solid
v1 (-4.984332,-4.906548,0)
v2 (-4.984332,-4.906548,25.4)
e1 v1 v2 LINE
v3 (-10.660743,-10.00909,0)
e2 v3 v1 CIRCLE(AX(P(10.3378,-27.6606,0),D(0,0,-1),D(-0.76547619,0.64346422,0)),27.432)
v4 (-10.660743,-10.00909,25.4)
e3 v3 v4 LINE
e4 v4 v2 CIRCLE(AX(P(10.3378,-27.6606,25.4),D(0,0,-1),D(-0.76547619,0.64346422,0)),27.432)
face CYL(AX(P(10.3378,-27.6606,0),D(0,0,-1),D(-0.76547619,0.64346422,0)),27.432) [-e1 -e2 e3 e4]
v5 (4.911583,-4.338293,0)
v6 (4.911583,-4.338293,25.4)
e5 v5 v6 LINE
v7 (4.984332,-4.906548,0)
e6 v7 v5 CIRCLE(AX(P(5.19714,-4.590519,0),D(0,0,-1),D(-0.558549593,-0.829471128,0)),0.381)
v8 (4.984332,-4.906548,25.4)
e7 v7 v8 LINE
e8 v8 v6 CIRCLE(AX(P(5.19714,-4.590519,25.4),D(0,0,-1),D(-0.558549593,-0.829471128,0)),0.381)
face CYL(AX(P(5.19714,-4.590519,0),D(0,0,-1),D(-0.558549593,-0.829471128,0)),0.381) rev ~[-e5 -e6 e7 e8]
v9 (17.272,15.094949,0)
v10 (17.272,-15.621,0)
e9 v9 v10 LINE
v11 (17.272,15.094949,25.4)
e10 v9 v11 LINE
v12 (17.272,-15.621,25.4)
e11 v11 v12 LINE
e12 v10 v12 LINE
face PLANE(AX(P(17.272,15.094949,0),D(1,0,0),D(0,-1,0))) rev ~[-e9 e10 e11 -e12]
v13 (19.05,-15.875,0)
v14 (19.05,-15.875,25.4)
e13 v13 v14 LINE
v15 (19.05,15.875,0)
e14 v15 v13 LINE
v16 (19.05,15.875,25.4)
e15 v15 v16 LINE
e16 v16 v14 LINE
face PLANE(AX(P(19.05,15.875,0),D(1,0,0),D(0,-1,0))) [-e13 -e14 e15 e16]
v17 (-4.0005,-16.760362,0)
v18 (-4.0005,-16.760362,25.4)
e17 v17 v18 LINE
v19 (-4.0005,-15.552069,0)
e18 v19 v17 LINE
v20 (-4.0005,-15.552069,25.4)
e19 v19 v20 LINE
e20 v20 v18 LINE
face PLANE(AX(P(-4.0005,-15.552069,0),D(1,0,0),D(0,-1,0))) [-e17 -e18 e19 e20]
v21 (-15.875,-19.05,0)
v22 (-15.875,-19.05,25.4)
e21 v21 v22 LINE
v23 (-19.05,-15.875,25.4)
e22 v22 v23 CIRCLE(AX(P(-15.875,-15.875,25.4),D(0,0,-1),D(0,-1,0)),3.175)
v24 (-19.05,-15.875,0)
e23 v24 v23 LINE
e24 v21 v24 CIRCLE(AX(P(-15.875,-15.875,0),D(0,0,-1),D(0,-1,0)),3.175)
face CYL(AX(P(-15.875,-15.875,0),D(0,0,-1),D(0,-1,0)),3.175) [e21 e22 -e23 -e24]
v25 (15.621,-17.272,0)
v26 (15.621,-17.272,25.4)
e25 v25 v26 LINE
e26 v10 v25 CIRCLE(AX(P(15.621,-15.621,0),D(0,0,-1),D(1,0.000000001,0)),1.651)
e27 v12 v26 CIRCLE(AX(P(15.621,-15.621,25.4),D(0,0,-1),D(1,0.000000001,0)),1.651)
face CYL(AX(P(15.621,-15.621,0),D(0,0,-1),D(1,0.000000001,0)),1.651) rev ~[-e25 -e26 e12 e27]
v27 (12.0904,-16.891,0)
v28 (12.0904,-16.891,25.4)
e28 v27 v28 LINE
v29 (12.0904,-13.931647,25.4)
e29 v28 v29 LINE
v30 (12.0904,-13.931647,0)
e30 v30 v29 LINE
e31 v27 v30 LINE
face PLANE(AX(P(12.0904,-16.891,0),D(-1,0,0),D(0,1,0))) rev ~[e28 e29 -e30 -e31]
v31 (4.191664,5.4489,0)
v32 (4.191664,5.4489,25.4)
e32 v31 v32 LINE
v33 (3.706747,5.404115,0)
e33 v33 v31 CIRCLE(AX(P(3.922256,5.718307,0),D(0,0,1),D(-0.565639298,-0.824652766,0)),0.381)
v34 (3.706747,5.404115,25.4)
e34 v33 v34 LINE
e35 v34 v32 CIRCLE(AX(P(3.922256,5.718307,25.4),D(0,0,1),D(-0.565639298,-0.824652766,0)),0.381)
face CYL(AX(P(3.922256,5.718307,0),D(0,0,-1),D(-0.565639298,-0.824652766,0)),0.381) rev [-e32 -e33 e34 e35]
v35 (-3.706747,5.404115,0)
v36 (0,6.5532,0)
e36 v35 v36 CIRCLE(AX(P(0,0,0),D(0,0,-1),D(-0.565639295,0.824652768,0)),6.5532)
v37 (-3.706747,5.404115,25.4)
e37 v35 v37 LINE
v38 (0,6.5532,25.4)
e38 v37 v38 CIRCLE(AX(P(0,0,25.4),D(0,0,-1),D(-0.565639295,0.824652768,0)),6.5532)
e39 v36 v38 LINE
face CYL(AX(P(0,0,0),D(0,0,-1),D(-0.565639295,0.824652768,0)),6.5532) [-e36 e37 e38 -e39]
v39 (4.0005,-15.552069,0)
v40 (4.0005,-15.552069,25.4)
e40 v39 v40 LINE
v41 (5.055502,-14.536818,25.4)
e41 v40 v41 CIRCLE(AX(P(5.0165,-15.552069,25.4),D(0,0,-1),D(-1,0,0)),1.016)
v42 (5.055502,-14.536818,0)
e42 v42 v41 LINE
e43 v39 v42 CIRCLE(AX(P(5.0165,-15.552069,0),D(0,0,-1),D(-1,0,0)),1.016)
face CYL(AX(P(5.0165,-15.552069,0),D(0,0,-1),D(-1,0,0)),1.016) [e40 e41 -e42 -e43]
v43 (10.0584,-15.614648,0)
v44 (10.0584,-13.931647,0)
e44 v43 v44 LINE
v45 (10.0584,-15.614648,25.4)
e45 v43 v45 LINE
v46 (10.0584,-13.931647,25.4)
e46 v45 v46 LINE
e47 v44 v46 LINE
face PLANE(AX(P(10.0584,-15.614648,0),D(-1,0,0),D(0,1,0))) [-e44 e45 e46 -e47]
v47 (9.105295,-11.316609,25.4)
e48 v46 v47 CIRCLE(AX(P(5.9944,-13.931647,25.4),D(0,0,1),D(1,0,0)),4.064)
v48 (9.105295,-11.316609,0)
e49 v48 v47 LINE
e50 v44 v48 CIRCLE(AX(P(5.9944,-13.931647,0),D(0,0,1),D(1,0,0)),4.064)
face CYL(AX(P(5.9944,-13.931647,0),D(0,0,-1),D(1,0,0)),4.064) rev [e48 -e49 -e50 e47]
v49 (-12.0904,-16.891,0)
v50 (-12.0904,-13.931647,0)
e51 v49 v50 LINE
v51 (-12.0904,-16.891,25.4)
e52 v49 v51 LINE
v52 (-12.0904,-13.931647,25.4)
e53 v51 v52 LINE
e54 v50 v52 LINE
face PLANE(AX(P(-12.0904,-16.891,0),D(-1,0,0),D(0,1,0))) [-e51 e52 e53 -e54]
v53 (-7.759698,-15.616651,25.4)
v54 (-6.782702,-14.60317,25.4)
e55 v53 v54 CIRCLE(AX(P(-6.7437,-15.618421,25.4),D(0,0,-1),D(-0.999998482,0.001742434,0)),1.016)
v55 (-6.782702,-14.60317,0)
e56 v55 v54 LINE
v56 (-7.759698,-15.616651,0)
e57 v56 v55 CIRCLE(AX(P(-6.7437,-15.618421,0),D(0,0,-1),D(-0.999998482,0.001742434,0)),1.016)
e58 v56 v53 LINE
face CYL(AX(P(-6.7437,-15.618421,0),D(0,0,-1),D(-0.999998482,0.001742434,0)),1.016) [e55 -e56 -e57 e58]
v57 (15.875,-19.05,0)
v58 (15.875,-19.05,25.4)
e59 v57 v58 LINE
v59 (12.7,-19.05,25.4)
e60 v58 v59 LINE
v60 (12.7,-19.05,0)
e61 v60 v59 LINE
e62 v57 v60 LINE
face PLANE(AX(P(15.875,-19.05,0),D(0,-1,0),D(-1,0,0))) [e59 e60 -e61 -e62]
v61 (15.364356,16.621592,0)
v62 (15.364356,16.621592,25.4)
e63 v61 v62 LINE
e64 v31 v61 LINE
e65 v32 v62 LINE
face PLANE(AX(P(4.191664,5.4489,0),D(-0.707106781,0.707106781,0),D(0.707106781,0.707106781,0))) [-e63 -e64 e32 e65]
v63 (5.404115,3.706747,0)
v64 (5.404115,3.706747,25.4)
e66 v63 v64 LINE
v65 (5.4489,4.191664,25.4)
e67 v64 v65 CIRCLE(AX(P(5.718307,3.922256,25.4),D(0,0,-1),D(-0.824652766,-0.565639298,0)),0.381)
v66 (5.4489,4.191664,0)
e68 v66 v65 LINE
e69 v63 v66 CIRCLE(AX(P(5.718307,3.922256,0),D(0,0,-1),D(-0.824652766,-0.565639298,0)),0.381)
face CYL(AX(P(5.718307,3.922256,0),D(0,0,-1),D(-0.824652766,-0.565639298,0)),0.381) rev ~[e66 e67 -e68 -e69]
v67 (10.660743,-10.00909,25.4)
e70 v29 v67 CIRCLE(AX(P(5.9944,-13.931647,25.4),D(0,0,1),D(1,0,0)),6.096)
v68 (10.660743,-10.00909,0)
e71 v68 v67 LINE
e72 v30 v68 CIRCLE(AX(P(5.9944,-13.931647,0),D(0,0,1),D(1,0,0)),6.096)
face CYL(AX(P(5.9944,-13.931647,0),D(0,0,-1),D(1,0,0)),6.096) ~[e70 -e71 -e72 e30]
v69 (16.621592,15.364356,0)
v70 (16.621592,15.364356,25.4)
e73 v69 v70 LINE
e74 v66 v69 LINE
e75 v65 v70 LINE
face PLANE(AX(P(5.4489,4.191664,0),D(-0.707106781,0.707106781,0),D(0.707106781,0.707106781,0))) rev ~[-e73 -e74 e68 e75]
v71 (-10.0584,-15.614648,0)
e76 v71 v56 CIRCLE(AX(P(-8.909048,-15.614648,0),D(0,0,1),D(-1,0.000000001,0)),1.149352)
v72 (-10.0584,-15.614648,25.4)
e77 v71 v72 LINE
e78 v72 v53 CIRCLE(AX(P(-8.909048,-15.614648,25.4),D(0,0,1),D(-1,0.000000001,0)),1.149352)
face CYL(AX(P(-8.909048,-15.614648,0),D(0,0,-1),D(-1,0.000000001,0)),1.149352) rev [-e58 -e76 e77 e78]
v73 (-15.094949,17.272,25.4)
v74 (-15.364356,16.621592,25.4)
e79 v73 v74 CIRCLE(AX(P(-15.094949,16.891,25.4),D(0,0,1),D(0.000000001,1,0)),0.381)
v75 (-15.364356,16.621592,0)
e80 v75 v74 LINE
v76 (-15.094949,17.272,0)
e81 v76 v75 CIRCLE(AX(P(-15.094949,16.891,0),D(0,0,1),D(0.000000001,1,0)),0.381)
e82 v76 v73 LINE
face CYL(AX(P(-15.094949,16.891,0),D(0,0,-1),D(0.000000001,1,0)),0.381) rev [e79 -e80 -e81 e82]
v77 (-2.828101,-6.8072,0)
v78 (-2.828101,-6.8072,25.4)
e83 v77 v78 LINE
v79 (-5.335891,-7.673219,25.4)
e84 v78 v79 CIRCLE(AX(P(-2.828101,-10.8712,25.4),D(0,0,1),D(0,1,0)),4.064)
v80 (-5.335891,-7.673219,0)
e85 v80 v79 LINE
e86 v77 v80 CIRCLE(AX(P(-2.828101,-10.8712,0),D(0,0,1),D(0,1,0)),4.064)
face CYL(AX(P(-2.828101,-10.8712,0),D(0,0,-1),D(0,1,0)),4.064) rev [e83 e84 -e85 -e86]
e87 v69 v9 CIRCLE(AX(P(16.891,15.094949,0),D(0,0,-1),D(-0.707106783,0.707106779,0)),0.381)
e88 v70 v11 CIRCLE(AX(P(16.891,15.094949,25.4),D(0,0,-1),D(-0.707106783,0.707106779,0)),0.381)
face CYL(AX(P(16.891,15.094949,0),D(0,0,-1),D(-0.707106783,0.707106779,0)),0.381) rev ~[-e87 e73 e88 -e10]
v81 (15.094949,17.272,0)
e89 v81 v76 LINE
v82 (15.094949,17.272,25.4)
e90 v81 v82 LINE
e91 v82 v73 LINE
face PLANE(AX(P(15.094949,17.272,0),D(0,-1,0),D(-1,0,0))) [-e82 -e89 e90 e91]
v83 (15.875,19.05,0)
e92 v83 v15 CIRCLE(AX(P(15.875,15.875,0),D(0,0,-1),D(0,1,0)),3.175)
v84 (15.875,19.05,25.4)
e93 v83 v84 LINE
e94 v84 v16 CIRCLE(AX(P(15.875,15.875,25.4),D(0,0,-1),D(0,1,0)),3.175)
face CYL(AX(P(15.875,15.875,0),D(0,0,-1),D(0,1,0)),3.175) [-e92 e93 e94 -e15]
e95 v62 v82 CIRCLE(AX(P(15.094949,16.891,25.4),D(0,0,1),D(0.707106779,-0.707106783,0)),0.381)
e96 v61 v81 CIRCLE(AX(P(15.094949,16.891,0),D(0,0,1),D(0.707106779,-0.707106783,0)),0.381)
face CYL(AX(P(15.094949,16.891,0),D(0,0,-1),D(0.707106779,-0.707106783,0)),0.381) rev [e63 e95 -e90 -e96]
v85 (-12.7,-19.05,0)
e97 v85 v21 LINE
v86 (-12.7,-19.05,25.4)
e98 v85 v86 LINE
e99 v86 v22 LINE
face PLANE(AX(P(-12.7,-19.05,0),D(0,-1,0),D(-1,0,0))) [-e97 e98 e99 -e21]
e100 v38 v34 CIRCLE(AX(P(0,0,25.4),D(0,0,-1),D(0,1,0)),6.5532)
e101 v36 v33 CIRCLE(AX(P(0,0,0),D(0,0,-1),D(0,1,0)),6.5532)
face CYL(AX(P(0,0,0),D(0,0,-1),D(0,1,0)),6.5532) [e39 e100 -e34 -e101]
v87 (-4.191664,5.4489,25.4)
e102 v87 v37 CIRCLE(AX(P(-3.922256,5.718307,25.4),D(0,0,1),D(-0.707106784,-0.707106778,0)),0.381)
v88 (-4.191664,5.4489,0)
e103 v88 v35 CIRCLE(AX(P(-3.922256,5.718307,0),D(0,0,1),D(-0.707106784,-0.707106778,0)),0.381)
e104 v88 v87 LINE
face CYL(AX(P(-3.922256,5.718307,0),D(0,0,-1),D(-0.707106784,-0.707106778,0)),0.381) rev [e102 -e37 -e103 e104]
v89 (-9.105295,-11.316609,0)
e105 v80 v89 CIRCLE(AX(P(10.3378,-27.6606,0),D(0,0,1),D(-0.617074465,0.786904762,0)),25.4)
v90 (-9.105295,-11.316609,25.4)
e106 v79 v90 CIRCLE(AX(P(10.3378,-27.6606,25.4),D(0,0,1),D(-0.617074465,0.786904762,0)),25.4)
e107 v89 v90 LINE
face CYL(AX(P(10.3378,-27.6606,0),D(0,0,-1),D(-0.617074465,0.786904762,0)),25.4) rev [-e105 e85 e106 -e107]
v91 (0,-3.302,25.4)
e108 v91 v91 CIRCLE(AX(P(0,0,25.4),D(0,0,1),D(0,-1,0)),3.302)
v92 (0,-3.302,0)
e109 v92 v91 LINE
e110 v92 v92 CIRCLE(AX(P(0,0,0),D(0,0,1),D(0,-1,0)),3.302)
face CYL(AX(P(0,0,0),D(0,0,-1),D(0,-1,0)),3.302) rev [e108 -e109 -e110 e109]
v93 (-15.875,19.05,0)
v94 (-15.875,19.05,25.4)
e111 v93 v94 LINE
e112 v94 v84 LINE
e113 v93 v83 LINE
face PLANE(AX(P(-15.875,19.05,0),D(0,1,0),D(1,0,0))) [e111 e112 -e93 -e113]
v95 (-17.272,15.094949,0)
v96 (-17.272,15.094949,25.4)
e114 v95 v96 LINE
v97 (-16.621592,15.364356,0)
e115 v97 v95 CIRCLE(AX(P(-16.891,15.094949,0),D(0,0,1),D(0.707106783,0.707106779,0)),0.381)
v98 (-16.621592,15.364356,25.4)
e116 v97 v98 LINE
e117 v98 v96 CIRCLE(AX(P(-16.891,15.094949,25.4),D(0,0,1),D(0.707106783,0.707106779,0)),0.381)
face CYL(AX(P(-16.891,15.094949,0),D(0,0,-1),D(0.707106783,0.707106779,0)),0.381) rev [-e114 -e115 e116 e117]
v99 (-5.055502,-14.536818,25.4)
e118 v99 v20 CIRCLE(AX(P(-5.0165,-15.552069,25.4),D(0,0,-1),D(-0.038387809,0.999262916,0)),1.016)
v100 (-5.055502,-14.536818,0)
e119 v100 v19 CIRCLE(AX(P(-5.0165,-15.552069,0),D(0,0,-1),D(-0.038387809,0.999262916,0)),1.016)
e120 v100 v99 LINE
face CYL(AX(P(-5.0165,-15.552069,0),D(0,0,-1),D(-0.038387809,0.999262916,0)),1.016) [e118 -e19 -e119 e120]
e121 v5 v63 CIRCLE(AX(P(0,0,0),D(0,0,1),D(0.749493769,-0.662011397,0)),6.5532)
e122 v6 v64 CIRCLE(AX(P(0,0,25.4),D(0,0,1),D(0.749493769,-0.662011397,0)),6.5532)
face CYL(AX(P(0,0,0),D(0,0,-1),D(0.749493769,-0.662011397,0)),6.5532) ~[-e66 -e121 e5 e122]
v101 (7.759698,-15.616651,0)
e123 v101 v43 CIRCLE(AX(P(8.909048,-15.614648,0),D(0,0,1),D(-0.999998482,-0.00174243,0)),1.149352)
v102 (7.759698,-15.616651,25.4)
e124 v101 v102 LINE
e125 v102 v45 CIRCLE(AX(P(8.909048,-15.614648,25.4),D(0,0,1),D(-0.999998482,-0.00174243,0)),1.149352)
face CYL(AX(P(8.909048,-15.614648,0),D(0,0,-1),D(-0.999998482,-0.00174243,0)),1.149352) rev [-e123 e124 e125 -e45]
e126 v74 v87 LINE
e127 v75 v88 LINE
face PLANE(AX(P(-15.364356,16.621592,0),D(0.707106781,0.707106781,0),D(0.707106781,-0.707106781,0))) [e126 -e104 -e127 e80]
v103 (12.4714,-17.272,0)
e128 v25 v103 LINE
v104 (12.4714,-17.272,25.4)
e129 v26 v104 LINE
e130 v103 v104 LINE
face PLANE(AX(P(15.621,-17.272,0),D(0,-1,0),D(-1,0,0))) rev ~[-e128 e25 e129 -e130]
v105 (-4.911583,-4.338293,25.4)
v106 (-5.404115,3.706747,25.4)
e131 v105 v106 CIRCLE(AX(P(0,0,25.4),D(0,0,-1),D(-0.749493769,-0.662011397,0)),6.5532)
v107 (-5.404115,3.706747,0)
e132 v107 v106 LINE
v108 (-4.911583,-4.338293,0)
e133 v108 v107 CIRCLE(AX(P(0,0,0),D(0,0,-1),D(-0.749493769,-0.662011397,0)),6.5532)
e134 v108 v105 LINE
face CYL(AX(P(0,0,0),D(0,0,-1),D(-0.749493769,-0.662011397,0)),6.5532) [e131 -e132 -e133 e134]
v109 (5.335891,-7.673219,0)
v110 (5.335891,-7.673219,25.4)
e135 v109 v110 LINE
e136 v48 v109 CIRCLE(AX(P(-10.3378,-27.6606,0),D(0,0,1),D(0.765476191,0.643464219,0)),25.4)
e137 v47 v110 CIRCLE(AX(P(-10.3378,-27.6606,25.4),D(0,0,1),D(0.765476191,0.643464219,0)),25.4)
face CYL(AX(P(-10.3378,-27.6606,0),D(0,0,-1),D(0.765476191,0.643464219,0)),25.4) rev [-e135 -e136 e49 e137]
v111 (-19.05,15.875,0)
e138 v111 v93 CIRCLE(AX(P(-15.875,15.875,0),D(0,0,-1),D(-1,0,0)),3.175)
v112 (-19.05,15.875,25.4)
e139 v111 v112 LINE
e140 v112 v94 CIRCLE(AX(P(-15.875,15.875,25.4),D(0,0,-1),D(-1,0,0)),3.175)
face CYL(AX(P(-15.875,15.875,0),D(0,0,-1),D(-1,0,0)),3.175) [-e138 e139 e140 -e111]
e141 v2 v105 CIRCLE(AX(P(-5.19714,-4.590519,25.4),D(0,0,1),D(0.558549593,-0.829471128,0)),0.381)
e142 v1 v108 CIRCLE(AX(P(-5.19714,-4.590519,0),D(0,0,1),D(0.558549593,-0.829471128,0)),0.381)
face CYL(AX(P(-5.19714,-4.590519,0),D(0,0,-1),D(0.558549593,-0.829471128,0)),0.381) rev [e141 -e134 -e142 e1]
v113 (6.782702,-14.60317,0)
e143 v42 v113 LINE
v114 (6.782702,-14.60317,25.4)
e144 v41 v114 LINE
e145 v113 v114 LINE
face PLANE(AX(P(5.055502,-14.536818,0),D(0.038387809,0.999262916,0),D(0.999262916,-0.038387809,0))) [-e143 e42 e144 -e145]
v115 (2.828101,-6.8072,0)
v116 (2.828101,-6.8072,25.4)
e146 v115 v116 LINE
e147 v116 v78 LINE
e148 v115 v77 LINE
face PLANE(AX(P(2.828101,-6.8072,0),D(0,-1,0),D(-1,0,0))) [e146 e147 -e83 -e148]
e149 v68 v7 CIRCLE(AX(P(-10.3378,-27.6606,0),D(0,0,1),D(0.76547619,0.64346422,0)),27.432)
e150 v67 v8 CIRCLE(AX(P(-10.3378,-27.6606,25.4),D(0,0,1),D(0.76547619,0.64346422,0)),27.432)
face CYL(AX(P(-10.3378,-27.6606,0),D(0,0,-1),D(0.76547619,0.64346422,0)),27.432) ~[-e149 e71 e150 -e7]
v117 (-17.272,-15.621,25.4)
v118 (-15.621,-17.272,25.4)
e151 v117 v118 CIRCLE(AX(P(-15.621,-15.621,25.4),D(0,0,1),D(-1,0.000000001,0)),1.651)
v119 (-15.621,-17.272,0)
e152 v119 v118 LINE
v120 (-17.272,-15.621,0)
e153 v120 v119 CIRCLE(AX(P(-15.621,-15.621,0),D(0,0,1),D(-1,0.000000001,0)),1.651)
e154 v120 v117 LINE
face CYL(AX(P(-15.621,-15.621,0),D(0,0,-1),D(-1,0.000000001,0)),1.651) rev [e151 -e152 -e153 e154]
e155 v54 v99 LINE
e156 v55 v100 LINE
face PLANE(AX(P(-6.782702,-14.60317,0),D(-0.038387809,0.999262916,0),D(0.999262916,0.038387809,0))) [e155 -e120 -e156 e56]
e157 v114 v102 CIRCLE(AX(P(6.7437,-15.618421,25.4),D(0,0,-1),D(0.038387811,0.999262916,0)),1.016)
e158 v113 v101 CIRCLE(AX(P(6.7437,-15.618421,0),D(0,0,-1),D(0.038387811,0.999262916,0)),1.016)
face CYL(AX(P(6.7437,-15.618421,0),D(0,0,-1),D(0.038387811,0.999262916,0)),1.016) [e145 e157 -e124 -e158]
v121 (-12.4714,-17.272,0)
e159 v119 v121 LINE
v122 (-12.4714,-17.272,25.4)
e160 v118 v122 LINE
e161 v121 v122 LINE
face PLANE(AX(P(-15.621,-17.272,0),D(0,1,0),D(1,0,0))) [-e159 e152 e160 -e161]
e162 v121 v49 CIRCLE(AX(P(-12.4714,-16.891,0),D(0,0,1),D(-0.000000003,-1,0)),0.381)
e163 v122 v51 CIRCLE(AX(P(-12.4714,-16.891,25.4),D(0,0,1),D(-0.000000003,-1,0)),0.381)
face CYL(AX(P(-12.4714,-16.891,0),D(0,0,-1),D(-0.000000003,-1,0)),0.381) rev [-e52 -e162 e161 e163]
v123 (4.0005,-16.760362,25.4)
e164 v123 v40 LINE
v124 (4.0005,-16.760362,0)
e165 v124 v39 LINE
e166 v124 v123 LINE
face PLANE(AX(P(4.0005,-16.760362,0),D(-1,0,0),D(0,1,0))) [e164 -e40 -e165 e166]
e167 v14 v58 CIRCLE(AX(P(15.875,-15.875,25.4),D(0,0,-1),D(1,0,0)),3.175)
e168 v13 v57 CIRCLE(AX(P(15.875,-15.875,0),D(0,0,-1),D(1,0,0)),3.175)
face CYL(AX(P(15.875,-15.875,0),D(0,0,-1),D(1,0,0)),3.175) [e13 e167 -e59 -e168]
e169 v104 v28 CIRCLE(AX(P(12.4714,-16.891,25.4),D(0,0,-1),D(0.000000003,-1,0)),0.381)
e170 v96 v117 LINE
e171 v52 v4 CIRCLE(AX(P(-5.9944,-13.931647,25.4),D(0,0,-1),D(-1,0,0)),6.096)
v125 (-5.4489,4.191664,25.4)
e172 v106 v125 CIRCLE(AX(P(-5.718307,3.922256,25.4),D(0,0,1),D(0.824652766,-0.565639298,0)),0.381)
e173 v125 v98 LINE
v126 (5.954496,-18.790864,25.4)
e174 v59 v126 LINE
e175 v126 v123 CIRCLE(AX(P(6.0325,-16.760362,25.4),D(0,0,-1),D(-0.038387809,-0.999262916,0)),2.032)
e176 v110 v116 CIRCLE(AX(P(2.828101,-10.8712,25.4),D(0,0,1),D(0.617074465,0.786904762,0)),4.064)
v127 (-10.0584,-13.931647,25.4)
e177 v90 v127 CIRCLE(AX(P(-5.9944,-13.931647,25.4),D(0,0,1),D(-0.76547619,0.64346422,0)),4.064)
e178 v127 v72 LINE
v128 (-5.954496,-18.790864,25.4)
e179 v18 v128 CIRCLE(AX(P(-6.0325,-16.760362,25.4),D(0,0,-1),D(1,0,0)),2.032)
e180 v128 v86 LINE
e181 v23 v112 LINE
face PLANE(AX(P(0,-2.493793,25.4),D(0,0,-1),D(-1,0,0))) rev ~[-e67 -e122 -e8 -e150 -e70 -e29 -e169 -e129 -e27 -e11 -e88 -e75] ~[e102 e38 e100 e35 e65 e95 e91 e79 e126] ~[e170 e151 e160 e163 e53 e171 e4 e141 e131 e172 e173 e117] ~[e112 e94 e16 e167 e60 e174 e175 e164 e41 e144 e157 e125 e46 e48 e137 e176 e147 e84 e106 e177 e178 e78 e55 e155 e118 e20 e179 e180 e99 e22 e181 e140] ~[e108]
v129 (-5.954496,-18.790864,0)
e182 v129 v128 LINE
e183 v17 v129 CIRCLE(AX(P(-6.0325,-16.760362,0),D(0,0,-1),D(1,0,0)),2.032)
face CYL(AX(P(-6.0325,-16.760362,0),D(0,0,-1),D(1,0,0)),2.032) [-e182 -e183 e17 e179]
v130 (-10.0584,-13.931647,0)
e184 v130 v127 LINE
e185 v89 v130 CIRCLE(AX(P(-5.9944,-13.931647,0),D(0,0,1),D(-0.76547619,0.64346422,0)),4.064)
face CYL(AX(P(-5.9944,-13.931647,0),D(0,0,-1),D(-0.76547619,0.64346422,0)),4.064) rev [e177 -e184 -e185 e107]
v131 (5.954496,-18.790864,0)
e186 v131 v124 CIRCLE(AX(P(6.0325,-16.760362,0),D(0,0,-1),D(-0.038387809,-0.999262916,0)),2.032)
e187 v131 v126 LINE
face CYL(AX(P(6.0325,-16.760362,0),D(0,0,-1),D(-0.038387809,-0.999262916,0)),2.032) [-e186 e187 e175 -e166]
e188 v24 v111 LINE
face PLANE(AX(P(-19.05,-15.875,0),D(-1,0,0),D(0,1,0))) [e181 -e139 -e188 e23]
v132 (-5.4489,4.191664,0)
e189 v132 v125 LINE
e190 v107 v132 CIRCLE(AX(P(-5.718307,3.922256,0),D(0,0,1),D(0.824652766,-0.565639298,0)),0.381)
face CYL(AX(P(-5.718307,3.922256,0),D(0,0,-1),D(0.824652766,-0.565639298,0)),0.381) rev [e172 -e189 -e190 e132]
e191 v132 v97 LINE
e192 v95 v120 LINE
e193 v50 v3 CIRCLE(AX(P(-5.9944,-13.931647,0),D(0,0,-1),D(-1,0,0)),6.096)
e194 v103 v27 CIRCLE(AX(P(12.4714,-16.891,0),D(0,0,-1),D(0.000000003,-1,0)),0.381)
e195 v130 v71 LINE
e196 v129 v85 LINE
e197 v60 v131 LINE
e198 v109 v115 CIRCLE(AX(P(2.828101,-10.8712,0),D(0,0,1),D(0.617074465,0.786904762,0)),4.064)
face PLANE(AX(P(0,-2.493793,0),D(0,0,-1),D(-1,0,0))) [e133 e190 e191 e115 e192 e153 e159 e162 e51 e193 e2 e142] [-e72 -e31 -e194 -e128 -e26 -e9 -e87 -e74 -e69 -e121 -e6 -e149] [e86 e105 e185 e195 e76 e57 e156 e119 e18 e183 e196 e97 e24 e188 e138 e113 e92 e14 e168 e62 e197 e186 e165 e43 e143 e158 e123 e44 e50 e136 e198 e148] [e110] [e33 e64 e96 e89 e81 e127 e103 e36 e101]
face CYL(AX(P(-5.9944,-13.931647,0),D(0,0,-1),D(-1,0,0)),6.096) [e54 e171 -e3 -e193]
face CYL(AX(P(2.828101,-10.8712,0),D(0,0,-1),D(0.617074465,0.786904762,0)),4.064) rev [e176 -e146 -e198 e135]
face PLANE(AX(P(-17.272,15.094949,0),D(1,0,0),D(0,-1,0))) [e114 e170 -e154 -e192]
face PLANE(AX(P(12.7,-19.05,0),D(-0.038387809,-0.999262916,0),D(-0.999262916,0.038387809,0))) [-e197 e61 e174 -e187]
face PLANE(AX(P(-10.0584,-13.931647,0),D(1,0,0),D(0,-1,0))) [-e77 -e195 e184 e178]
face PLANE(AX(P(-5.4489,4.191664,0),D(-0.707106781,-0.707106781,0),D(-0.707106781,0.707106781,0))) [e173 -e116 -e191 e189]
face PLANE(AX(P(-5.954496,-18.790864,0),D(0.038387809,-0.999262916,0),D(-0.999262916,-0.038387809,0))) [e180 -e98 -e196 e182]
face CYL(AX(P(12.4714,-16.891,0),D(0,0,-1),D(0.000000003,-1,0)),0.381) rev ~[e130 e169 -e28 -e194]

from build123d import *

# Parameters (mm, degrees)
EXTRUDE1_DEPTH = 25.4


with BuildPart() as part:
    # Sketch1 → Extrude1 (new body)
    with BuildSketch(Plane.XY):
        with BuildLine():
            Line((2.828100791, -6.8072), (0, -6.8072))
            Line((0, -6.8072), (-2.828100791, -6.8072))
            ThreePointArc((-2.828100791, -6.8072), (-4.154656747, -7.029801128), (-5.335891418, -7.673219048))
            ThreePointArc((-5.335891418, -7.673219048), (-7.314841404, -9.397406099), (-9.105295238, -11.316608824))
            ThreePointArc((-9.105295238, -11.316608824), (-9.812696364, -12.53999053), (-10.0584, -13.931647412))
            Line((-10.0584, -13.931647412), (-10.0584, -15.614648356))
            ThreePointArc((-10.0584, -15.614648356), (-8.91004969, -16.763999564), (-7.759698458, -15.616651022))
            ThreePointArc((-7.759698458, -15.616651022), (-7.475165883, -14.913287543), (-6.782702014, -14.603170209))
            Line((-6.782702014, -14.603170209), (-5.055502014, -14.536817878))
            ThreePointArc((-5.055502014, -14.536817878), (-4.312003742, -14.819989072), (-4.0005, -15.552069001))
            Line((-4.0005, -15.552069001), (-4.0005, -16.760361628))
            ThreePointArc((-4.0005, -16.760361628), (-4.568340141, -18.169354143), (-5.954495972, -18.790863874))
            Line((-5.954495972, -18.790863874), (-12.7, -19.05))
            Line((-12.7, -19.05), (-15.875, -19.05))
            ThreePointArc((-15.875, -19.05), (-18.12006403, -18.12006403), (-19.05, -15.875))
            Line((-19.05, -15.875), (-19.05, 15.875))
            ThreePointArc((-19.05, 15.875), (-18.12006403, 18.12006403), (-15.875, 19.05))
            Line((-15.875, 19.05), (0, 19.05))
            Line((0, 19.05), (15.875, 19.05))
            ThreePointArc((15.875, 19.05), (18.12006403, 18.12006403), (19.05, 15.875))
            Line((19.05, 15.875), (19.05, -15.875))
            ThreePointArc((19.05, -15.875), (18.12006403, -18.12006403), (15.875, -19.05))
            Line((15.875, -19.05), (12.7, -19.05))
            Line((12.7, -19.05), (5.954495972, -18.790863874))
            ThreePointArc((5.954495972, -18.790863874), (4.568340141, -18.169354143), (4.0005, -16.760361628))
            Line((4.0005, -16.760361628), (4.0005, -15.552069001))
            ThreePointArc((4.0005, -15.552069001), (4.312003742, -14.819989072), (5.055502014, -14.536817878))
            Line((5.055502014, -14.536817878), (6.782702014, -14.603170209))
            ThreePointArc((6.782702014, -14.603170209), (7.475165883, -14.913287543), (7.759698458, -15.616651022))
            ThreePointArc((7.759698458, -15.616651022), (8.91004969, -16.763999564), (10.0584, -15.614648356))
            Line((10.0584, -15.614648356), (10.0584, -13.931647412))
            ThreePointArc((10.0584, -13.931647412), (9.812696364, -12.53999053), (9.105295238, -11.316608824))
            ThreePointArc((9.105295238, -11.316608824), (7.314841404, -9.397406099), (5.335891418, -7.673219048))
            ThreePointArc((5.335891418, -7.673219048), (4.154656747, -7.029801128), (2.828100791, -6.8072))
        make_face()
        with BuildLine():
            Line((4.191663684, 5.448899541), (15.364356459, 16.621592316))
            ThreePointArc((15.364356459, 16.621592316), (15.446946878, 17.036802388), (15.094948776, 17.272))
            Line((15.094948776, 17.272), (0, 17.272))
            Line((0, 17.272), (-15.094948776, 17.272))
            ThreePointArc((-15.094948776, 17.272), (-15.446946878, 17.036802388), (-15.364356459, 16.621592316))
            Line((-15.364356459, 16.621592316), (-4.191663684, 5.448899541))
            ThreePointArc((-4.191663684, 5.448899541), (-3.957294594, 5.338921804), (-3.706747429, 5.40411452))
            ThreePointArc((-3.706747429, 5.40411452), (-1.940384881, 6.259339962), (0, 6.5532))
            ThreePointArc((0, 6.5532), (1.940384881, 6.259339962), (3.706747429, 5.40411452))
            ThreePointArc((3.706747429, 5.40411452), (3.957294594, 5.338921804), (4.191663684, 5.448899541))
        make_face(mode=Mode.SUBTRACT)
        with BuildLine():
            Line((-17.272, 15.094948776), (-17.272, -15.621))
            ThreePointArc((-17.272, -15.621), (-16.788433296, -16.788433296), (-15.621, -17.272))
            Line((-15.621, -17.272), (-12.4714, -17.272))
            ThreePointArc((-12.4714, -17.272), (-12.201992316, -17.160407684), (-12.0904, -16.891))
            Line((-12.0904, -16.891), (-12.0904, -13.931647412))
            ThreePointArc((-12.0904, -13.931647412), (-11.721844546, -11.84416209), (-10.660742857, -10.00908953))
            ThreePointArc((-10.660742857, -10.00908953), (-8.000870719, -7.259428949), (-4.984332303, -4.906547928))
            ThreePointArc((-4.984332303, -4.906547928), (-4.819224111, -4.638901343), (-4.91158257, -4.338293085))
            ThreePointArc((-4.91158257, -4.338293085), (-6.540953358, -0.40044901), (-5.40411452, 3.706747429))
            ThreePointArc((-5.40411452, 3.706747429), (-5.338921804, 3.957294594), (-5.448899541, 4.191663684))
            Line((-5.448899541, 4.191663684), (-16.621592316, 15.364356459))
            ThreePointArc((-16.621592316, 15.364356459), (-17.036802388, 15.446946878), (-17.272, 15.094948776))
        make_face(mode=Mode.SUBTRACT)
        with BuildLine():
            Line((17.272, 15.094948776), (17.272, -15.621))
            ThreePointArc((17.272, -15.621), (16.788433296, -16.788433296), (15.621, -17.272))
            Line((15.621, -17.272), (12.4714, -17.272))
            ThreePointArc((12.4714, -17.272), (12.201992316, -17.160407684), (12.0904, -16.891))
            Line((12.0904, -16.891), (12.0904, -13.931647412))
            ThreePointArc((12.0904, -13.931647412), (11.721844546, -11.84416209), (10.660742857, -10.00908953))
            ThreePointArc((10.660742857, -10.00908953), (8.000870719, -7.259428949), (4.984332303, -4.906547928))
            ThreePointArc((4.984332303, -4.906547928), (4.819224111, -4.638901343), (4.91158257, -4.338293085))
            ThreePointArc((4.91158257, -4.338293085), (6.540953358, -0.40044901), (5.40411452, 3.706747429))
            ThreePointArc((5.40411452, 3.706747429), (5.338921804, 3.957294594), (5.448899541, 4.191663684))
            Line((5.448899541, 4.191663684), (16.621592316, 15.364356459))
            ThreePointArc((16.621592316, 15.364356459), (17.036802388, 15.446946878), (17.272, 15.094948776))
        make_face(mode=Mode.SUBTRACT)
        with BuildLine():
            ThreePointArc((0, 3.302), (-3.302, 0), (0, -3.302))
            ThreePointArc((0, -3.302), (3.302, 0), (0, 3.302))
        make_face(mode=Mode.SUBTRACT)
    extrude(amount=EXTRUDE1_DEPTH)


solid = part.part
